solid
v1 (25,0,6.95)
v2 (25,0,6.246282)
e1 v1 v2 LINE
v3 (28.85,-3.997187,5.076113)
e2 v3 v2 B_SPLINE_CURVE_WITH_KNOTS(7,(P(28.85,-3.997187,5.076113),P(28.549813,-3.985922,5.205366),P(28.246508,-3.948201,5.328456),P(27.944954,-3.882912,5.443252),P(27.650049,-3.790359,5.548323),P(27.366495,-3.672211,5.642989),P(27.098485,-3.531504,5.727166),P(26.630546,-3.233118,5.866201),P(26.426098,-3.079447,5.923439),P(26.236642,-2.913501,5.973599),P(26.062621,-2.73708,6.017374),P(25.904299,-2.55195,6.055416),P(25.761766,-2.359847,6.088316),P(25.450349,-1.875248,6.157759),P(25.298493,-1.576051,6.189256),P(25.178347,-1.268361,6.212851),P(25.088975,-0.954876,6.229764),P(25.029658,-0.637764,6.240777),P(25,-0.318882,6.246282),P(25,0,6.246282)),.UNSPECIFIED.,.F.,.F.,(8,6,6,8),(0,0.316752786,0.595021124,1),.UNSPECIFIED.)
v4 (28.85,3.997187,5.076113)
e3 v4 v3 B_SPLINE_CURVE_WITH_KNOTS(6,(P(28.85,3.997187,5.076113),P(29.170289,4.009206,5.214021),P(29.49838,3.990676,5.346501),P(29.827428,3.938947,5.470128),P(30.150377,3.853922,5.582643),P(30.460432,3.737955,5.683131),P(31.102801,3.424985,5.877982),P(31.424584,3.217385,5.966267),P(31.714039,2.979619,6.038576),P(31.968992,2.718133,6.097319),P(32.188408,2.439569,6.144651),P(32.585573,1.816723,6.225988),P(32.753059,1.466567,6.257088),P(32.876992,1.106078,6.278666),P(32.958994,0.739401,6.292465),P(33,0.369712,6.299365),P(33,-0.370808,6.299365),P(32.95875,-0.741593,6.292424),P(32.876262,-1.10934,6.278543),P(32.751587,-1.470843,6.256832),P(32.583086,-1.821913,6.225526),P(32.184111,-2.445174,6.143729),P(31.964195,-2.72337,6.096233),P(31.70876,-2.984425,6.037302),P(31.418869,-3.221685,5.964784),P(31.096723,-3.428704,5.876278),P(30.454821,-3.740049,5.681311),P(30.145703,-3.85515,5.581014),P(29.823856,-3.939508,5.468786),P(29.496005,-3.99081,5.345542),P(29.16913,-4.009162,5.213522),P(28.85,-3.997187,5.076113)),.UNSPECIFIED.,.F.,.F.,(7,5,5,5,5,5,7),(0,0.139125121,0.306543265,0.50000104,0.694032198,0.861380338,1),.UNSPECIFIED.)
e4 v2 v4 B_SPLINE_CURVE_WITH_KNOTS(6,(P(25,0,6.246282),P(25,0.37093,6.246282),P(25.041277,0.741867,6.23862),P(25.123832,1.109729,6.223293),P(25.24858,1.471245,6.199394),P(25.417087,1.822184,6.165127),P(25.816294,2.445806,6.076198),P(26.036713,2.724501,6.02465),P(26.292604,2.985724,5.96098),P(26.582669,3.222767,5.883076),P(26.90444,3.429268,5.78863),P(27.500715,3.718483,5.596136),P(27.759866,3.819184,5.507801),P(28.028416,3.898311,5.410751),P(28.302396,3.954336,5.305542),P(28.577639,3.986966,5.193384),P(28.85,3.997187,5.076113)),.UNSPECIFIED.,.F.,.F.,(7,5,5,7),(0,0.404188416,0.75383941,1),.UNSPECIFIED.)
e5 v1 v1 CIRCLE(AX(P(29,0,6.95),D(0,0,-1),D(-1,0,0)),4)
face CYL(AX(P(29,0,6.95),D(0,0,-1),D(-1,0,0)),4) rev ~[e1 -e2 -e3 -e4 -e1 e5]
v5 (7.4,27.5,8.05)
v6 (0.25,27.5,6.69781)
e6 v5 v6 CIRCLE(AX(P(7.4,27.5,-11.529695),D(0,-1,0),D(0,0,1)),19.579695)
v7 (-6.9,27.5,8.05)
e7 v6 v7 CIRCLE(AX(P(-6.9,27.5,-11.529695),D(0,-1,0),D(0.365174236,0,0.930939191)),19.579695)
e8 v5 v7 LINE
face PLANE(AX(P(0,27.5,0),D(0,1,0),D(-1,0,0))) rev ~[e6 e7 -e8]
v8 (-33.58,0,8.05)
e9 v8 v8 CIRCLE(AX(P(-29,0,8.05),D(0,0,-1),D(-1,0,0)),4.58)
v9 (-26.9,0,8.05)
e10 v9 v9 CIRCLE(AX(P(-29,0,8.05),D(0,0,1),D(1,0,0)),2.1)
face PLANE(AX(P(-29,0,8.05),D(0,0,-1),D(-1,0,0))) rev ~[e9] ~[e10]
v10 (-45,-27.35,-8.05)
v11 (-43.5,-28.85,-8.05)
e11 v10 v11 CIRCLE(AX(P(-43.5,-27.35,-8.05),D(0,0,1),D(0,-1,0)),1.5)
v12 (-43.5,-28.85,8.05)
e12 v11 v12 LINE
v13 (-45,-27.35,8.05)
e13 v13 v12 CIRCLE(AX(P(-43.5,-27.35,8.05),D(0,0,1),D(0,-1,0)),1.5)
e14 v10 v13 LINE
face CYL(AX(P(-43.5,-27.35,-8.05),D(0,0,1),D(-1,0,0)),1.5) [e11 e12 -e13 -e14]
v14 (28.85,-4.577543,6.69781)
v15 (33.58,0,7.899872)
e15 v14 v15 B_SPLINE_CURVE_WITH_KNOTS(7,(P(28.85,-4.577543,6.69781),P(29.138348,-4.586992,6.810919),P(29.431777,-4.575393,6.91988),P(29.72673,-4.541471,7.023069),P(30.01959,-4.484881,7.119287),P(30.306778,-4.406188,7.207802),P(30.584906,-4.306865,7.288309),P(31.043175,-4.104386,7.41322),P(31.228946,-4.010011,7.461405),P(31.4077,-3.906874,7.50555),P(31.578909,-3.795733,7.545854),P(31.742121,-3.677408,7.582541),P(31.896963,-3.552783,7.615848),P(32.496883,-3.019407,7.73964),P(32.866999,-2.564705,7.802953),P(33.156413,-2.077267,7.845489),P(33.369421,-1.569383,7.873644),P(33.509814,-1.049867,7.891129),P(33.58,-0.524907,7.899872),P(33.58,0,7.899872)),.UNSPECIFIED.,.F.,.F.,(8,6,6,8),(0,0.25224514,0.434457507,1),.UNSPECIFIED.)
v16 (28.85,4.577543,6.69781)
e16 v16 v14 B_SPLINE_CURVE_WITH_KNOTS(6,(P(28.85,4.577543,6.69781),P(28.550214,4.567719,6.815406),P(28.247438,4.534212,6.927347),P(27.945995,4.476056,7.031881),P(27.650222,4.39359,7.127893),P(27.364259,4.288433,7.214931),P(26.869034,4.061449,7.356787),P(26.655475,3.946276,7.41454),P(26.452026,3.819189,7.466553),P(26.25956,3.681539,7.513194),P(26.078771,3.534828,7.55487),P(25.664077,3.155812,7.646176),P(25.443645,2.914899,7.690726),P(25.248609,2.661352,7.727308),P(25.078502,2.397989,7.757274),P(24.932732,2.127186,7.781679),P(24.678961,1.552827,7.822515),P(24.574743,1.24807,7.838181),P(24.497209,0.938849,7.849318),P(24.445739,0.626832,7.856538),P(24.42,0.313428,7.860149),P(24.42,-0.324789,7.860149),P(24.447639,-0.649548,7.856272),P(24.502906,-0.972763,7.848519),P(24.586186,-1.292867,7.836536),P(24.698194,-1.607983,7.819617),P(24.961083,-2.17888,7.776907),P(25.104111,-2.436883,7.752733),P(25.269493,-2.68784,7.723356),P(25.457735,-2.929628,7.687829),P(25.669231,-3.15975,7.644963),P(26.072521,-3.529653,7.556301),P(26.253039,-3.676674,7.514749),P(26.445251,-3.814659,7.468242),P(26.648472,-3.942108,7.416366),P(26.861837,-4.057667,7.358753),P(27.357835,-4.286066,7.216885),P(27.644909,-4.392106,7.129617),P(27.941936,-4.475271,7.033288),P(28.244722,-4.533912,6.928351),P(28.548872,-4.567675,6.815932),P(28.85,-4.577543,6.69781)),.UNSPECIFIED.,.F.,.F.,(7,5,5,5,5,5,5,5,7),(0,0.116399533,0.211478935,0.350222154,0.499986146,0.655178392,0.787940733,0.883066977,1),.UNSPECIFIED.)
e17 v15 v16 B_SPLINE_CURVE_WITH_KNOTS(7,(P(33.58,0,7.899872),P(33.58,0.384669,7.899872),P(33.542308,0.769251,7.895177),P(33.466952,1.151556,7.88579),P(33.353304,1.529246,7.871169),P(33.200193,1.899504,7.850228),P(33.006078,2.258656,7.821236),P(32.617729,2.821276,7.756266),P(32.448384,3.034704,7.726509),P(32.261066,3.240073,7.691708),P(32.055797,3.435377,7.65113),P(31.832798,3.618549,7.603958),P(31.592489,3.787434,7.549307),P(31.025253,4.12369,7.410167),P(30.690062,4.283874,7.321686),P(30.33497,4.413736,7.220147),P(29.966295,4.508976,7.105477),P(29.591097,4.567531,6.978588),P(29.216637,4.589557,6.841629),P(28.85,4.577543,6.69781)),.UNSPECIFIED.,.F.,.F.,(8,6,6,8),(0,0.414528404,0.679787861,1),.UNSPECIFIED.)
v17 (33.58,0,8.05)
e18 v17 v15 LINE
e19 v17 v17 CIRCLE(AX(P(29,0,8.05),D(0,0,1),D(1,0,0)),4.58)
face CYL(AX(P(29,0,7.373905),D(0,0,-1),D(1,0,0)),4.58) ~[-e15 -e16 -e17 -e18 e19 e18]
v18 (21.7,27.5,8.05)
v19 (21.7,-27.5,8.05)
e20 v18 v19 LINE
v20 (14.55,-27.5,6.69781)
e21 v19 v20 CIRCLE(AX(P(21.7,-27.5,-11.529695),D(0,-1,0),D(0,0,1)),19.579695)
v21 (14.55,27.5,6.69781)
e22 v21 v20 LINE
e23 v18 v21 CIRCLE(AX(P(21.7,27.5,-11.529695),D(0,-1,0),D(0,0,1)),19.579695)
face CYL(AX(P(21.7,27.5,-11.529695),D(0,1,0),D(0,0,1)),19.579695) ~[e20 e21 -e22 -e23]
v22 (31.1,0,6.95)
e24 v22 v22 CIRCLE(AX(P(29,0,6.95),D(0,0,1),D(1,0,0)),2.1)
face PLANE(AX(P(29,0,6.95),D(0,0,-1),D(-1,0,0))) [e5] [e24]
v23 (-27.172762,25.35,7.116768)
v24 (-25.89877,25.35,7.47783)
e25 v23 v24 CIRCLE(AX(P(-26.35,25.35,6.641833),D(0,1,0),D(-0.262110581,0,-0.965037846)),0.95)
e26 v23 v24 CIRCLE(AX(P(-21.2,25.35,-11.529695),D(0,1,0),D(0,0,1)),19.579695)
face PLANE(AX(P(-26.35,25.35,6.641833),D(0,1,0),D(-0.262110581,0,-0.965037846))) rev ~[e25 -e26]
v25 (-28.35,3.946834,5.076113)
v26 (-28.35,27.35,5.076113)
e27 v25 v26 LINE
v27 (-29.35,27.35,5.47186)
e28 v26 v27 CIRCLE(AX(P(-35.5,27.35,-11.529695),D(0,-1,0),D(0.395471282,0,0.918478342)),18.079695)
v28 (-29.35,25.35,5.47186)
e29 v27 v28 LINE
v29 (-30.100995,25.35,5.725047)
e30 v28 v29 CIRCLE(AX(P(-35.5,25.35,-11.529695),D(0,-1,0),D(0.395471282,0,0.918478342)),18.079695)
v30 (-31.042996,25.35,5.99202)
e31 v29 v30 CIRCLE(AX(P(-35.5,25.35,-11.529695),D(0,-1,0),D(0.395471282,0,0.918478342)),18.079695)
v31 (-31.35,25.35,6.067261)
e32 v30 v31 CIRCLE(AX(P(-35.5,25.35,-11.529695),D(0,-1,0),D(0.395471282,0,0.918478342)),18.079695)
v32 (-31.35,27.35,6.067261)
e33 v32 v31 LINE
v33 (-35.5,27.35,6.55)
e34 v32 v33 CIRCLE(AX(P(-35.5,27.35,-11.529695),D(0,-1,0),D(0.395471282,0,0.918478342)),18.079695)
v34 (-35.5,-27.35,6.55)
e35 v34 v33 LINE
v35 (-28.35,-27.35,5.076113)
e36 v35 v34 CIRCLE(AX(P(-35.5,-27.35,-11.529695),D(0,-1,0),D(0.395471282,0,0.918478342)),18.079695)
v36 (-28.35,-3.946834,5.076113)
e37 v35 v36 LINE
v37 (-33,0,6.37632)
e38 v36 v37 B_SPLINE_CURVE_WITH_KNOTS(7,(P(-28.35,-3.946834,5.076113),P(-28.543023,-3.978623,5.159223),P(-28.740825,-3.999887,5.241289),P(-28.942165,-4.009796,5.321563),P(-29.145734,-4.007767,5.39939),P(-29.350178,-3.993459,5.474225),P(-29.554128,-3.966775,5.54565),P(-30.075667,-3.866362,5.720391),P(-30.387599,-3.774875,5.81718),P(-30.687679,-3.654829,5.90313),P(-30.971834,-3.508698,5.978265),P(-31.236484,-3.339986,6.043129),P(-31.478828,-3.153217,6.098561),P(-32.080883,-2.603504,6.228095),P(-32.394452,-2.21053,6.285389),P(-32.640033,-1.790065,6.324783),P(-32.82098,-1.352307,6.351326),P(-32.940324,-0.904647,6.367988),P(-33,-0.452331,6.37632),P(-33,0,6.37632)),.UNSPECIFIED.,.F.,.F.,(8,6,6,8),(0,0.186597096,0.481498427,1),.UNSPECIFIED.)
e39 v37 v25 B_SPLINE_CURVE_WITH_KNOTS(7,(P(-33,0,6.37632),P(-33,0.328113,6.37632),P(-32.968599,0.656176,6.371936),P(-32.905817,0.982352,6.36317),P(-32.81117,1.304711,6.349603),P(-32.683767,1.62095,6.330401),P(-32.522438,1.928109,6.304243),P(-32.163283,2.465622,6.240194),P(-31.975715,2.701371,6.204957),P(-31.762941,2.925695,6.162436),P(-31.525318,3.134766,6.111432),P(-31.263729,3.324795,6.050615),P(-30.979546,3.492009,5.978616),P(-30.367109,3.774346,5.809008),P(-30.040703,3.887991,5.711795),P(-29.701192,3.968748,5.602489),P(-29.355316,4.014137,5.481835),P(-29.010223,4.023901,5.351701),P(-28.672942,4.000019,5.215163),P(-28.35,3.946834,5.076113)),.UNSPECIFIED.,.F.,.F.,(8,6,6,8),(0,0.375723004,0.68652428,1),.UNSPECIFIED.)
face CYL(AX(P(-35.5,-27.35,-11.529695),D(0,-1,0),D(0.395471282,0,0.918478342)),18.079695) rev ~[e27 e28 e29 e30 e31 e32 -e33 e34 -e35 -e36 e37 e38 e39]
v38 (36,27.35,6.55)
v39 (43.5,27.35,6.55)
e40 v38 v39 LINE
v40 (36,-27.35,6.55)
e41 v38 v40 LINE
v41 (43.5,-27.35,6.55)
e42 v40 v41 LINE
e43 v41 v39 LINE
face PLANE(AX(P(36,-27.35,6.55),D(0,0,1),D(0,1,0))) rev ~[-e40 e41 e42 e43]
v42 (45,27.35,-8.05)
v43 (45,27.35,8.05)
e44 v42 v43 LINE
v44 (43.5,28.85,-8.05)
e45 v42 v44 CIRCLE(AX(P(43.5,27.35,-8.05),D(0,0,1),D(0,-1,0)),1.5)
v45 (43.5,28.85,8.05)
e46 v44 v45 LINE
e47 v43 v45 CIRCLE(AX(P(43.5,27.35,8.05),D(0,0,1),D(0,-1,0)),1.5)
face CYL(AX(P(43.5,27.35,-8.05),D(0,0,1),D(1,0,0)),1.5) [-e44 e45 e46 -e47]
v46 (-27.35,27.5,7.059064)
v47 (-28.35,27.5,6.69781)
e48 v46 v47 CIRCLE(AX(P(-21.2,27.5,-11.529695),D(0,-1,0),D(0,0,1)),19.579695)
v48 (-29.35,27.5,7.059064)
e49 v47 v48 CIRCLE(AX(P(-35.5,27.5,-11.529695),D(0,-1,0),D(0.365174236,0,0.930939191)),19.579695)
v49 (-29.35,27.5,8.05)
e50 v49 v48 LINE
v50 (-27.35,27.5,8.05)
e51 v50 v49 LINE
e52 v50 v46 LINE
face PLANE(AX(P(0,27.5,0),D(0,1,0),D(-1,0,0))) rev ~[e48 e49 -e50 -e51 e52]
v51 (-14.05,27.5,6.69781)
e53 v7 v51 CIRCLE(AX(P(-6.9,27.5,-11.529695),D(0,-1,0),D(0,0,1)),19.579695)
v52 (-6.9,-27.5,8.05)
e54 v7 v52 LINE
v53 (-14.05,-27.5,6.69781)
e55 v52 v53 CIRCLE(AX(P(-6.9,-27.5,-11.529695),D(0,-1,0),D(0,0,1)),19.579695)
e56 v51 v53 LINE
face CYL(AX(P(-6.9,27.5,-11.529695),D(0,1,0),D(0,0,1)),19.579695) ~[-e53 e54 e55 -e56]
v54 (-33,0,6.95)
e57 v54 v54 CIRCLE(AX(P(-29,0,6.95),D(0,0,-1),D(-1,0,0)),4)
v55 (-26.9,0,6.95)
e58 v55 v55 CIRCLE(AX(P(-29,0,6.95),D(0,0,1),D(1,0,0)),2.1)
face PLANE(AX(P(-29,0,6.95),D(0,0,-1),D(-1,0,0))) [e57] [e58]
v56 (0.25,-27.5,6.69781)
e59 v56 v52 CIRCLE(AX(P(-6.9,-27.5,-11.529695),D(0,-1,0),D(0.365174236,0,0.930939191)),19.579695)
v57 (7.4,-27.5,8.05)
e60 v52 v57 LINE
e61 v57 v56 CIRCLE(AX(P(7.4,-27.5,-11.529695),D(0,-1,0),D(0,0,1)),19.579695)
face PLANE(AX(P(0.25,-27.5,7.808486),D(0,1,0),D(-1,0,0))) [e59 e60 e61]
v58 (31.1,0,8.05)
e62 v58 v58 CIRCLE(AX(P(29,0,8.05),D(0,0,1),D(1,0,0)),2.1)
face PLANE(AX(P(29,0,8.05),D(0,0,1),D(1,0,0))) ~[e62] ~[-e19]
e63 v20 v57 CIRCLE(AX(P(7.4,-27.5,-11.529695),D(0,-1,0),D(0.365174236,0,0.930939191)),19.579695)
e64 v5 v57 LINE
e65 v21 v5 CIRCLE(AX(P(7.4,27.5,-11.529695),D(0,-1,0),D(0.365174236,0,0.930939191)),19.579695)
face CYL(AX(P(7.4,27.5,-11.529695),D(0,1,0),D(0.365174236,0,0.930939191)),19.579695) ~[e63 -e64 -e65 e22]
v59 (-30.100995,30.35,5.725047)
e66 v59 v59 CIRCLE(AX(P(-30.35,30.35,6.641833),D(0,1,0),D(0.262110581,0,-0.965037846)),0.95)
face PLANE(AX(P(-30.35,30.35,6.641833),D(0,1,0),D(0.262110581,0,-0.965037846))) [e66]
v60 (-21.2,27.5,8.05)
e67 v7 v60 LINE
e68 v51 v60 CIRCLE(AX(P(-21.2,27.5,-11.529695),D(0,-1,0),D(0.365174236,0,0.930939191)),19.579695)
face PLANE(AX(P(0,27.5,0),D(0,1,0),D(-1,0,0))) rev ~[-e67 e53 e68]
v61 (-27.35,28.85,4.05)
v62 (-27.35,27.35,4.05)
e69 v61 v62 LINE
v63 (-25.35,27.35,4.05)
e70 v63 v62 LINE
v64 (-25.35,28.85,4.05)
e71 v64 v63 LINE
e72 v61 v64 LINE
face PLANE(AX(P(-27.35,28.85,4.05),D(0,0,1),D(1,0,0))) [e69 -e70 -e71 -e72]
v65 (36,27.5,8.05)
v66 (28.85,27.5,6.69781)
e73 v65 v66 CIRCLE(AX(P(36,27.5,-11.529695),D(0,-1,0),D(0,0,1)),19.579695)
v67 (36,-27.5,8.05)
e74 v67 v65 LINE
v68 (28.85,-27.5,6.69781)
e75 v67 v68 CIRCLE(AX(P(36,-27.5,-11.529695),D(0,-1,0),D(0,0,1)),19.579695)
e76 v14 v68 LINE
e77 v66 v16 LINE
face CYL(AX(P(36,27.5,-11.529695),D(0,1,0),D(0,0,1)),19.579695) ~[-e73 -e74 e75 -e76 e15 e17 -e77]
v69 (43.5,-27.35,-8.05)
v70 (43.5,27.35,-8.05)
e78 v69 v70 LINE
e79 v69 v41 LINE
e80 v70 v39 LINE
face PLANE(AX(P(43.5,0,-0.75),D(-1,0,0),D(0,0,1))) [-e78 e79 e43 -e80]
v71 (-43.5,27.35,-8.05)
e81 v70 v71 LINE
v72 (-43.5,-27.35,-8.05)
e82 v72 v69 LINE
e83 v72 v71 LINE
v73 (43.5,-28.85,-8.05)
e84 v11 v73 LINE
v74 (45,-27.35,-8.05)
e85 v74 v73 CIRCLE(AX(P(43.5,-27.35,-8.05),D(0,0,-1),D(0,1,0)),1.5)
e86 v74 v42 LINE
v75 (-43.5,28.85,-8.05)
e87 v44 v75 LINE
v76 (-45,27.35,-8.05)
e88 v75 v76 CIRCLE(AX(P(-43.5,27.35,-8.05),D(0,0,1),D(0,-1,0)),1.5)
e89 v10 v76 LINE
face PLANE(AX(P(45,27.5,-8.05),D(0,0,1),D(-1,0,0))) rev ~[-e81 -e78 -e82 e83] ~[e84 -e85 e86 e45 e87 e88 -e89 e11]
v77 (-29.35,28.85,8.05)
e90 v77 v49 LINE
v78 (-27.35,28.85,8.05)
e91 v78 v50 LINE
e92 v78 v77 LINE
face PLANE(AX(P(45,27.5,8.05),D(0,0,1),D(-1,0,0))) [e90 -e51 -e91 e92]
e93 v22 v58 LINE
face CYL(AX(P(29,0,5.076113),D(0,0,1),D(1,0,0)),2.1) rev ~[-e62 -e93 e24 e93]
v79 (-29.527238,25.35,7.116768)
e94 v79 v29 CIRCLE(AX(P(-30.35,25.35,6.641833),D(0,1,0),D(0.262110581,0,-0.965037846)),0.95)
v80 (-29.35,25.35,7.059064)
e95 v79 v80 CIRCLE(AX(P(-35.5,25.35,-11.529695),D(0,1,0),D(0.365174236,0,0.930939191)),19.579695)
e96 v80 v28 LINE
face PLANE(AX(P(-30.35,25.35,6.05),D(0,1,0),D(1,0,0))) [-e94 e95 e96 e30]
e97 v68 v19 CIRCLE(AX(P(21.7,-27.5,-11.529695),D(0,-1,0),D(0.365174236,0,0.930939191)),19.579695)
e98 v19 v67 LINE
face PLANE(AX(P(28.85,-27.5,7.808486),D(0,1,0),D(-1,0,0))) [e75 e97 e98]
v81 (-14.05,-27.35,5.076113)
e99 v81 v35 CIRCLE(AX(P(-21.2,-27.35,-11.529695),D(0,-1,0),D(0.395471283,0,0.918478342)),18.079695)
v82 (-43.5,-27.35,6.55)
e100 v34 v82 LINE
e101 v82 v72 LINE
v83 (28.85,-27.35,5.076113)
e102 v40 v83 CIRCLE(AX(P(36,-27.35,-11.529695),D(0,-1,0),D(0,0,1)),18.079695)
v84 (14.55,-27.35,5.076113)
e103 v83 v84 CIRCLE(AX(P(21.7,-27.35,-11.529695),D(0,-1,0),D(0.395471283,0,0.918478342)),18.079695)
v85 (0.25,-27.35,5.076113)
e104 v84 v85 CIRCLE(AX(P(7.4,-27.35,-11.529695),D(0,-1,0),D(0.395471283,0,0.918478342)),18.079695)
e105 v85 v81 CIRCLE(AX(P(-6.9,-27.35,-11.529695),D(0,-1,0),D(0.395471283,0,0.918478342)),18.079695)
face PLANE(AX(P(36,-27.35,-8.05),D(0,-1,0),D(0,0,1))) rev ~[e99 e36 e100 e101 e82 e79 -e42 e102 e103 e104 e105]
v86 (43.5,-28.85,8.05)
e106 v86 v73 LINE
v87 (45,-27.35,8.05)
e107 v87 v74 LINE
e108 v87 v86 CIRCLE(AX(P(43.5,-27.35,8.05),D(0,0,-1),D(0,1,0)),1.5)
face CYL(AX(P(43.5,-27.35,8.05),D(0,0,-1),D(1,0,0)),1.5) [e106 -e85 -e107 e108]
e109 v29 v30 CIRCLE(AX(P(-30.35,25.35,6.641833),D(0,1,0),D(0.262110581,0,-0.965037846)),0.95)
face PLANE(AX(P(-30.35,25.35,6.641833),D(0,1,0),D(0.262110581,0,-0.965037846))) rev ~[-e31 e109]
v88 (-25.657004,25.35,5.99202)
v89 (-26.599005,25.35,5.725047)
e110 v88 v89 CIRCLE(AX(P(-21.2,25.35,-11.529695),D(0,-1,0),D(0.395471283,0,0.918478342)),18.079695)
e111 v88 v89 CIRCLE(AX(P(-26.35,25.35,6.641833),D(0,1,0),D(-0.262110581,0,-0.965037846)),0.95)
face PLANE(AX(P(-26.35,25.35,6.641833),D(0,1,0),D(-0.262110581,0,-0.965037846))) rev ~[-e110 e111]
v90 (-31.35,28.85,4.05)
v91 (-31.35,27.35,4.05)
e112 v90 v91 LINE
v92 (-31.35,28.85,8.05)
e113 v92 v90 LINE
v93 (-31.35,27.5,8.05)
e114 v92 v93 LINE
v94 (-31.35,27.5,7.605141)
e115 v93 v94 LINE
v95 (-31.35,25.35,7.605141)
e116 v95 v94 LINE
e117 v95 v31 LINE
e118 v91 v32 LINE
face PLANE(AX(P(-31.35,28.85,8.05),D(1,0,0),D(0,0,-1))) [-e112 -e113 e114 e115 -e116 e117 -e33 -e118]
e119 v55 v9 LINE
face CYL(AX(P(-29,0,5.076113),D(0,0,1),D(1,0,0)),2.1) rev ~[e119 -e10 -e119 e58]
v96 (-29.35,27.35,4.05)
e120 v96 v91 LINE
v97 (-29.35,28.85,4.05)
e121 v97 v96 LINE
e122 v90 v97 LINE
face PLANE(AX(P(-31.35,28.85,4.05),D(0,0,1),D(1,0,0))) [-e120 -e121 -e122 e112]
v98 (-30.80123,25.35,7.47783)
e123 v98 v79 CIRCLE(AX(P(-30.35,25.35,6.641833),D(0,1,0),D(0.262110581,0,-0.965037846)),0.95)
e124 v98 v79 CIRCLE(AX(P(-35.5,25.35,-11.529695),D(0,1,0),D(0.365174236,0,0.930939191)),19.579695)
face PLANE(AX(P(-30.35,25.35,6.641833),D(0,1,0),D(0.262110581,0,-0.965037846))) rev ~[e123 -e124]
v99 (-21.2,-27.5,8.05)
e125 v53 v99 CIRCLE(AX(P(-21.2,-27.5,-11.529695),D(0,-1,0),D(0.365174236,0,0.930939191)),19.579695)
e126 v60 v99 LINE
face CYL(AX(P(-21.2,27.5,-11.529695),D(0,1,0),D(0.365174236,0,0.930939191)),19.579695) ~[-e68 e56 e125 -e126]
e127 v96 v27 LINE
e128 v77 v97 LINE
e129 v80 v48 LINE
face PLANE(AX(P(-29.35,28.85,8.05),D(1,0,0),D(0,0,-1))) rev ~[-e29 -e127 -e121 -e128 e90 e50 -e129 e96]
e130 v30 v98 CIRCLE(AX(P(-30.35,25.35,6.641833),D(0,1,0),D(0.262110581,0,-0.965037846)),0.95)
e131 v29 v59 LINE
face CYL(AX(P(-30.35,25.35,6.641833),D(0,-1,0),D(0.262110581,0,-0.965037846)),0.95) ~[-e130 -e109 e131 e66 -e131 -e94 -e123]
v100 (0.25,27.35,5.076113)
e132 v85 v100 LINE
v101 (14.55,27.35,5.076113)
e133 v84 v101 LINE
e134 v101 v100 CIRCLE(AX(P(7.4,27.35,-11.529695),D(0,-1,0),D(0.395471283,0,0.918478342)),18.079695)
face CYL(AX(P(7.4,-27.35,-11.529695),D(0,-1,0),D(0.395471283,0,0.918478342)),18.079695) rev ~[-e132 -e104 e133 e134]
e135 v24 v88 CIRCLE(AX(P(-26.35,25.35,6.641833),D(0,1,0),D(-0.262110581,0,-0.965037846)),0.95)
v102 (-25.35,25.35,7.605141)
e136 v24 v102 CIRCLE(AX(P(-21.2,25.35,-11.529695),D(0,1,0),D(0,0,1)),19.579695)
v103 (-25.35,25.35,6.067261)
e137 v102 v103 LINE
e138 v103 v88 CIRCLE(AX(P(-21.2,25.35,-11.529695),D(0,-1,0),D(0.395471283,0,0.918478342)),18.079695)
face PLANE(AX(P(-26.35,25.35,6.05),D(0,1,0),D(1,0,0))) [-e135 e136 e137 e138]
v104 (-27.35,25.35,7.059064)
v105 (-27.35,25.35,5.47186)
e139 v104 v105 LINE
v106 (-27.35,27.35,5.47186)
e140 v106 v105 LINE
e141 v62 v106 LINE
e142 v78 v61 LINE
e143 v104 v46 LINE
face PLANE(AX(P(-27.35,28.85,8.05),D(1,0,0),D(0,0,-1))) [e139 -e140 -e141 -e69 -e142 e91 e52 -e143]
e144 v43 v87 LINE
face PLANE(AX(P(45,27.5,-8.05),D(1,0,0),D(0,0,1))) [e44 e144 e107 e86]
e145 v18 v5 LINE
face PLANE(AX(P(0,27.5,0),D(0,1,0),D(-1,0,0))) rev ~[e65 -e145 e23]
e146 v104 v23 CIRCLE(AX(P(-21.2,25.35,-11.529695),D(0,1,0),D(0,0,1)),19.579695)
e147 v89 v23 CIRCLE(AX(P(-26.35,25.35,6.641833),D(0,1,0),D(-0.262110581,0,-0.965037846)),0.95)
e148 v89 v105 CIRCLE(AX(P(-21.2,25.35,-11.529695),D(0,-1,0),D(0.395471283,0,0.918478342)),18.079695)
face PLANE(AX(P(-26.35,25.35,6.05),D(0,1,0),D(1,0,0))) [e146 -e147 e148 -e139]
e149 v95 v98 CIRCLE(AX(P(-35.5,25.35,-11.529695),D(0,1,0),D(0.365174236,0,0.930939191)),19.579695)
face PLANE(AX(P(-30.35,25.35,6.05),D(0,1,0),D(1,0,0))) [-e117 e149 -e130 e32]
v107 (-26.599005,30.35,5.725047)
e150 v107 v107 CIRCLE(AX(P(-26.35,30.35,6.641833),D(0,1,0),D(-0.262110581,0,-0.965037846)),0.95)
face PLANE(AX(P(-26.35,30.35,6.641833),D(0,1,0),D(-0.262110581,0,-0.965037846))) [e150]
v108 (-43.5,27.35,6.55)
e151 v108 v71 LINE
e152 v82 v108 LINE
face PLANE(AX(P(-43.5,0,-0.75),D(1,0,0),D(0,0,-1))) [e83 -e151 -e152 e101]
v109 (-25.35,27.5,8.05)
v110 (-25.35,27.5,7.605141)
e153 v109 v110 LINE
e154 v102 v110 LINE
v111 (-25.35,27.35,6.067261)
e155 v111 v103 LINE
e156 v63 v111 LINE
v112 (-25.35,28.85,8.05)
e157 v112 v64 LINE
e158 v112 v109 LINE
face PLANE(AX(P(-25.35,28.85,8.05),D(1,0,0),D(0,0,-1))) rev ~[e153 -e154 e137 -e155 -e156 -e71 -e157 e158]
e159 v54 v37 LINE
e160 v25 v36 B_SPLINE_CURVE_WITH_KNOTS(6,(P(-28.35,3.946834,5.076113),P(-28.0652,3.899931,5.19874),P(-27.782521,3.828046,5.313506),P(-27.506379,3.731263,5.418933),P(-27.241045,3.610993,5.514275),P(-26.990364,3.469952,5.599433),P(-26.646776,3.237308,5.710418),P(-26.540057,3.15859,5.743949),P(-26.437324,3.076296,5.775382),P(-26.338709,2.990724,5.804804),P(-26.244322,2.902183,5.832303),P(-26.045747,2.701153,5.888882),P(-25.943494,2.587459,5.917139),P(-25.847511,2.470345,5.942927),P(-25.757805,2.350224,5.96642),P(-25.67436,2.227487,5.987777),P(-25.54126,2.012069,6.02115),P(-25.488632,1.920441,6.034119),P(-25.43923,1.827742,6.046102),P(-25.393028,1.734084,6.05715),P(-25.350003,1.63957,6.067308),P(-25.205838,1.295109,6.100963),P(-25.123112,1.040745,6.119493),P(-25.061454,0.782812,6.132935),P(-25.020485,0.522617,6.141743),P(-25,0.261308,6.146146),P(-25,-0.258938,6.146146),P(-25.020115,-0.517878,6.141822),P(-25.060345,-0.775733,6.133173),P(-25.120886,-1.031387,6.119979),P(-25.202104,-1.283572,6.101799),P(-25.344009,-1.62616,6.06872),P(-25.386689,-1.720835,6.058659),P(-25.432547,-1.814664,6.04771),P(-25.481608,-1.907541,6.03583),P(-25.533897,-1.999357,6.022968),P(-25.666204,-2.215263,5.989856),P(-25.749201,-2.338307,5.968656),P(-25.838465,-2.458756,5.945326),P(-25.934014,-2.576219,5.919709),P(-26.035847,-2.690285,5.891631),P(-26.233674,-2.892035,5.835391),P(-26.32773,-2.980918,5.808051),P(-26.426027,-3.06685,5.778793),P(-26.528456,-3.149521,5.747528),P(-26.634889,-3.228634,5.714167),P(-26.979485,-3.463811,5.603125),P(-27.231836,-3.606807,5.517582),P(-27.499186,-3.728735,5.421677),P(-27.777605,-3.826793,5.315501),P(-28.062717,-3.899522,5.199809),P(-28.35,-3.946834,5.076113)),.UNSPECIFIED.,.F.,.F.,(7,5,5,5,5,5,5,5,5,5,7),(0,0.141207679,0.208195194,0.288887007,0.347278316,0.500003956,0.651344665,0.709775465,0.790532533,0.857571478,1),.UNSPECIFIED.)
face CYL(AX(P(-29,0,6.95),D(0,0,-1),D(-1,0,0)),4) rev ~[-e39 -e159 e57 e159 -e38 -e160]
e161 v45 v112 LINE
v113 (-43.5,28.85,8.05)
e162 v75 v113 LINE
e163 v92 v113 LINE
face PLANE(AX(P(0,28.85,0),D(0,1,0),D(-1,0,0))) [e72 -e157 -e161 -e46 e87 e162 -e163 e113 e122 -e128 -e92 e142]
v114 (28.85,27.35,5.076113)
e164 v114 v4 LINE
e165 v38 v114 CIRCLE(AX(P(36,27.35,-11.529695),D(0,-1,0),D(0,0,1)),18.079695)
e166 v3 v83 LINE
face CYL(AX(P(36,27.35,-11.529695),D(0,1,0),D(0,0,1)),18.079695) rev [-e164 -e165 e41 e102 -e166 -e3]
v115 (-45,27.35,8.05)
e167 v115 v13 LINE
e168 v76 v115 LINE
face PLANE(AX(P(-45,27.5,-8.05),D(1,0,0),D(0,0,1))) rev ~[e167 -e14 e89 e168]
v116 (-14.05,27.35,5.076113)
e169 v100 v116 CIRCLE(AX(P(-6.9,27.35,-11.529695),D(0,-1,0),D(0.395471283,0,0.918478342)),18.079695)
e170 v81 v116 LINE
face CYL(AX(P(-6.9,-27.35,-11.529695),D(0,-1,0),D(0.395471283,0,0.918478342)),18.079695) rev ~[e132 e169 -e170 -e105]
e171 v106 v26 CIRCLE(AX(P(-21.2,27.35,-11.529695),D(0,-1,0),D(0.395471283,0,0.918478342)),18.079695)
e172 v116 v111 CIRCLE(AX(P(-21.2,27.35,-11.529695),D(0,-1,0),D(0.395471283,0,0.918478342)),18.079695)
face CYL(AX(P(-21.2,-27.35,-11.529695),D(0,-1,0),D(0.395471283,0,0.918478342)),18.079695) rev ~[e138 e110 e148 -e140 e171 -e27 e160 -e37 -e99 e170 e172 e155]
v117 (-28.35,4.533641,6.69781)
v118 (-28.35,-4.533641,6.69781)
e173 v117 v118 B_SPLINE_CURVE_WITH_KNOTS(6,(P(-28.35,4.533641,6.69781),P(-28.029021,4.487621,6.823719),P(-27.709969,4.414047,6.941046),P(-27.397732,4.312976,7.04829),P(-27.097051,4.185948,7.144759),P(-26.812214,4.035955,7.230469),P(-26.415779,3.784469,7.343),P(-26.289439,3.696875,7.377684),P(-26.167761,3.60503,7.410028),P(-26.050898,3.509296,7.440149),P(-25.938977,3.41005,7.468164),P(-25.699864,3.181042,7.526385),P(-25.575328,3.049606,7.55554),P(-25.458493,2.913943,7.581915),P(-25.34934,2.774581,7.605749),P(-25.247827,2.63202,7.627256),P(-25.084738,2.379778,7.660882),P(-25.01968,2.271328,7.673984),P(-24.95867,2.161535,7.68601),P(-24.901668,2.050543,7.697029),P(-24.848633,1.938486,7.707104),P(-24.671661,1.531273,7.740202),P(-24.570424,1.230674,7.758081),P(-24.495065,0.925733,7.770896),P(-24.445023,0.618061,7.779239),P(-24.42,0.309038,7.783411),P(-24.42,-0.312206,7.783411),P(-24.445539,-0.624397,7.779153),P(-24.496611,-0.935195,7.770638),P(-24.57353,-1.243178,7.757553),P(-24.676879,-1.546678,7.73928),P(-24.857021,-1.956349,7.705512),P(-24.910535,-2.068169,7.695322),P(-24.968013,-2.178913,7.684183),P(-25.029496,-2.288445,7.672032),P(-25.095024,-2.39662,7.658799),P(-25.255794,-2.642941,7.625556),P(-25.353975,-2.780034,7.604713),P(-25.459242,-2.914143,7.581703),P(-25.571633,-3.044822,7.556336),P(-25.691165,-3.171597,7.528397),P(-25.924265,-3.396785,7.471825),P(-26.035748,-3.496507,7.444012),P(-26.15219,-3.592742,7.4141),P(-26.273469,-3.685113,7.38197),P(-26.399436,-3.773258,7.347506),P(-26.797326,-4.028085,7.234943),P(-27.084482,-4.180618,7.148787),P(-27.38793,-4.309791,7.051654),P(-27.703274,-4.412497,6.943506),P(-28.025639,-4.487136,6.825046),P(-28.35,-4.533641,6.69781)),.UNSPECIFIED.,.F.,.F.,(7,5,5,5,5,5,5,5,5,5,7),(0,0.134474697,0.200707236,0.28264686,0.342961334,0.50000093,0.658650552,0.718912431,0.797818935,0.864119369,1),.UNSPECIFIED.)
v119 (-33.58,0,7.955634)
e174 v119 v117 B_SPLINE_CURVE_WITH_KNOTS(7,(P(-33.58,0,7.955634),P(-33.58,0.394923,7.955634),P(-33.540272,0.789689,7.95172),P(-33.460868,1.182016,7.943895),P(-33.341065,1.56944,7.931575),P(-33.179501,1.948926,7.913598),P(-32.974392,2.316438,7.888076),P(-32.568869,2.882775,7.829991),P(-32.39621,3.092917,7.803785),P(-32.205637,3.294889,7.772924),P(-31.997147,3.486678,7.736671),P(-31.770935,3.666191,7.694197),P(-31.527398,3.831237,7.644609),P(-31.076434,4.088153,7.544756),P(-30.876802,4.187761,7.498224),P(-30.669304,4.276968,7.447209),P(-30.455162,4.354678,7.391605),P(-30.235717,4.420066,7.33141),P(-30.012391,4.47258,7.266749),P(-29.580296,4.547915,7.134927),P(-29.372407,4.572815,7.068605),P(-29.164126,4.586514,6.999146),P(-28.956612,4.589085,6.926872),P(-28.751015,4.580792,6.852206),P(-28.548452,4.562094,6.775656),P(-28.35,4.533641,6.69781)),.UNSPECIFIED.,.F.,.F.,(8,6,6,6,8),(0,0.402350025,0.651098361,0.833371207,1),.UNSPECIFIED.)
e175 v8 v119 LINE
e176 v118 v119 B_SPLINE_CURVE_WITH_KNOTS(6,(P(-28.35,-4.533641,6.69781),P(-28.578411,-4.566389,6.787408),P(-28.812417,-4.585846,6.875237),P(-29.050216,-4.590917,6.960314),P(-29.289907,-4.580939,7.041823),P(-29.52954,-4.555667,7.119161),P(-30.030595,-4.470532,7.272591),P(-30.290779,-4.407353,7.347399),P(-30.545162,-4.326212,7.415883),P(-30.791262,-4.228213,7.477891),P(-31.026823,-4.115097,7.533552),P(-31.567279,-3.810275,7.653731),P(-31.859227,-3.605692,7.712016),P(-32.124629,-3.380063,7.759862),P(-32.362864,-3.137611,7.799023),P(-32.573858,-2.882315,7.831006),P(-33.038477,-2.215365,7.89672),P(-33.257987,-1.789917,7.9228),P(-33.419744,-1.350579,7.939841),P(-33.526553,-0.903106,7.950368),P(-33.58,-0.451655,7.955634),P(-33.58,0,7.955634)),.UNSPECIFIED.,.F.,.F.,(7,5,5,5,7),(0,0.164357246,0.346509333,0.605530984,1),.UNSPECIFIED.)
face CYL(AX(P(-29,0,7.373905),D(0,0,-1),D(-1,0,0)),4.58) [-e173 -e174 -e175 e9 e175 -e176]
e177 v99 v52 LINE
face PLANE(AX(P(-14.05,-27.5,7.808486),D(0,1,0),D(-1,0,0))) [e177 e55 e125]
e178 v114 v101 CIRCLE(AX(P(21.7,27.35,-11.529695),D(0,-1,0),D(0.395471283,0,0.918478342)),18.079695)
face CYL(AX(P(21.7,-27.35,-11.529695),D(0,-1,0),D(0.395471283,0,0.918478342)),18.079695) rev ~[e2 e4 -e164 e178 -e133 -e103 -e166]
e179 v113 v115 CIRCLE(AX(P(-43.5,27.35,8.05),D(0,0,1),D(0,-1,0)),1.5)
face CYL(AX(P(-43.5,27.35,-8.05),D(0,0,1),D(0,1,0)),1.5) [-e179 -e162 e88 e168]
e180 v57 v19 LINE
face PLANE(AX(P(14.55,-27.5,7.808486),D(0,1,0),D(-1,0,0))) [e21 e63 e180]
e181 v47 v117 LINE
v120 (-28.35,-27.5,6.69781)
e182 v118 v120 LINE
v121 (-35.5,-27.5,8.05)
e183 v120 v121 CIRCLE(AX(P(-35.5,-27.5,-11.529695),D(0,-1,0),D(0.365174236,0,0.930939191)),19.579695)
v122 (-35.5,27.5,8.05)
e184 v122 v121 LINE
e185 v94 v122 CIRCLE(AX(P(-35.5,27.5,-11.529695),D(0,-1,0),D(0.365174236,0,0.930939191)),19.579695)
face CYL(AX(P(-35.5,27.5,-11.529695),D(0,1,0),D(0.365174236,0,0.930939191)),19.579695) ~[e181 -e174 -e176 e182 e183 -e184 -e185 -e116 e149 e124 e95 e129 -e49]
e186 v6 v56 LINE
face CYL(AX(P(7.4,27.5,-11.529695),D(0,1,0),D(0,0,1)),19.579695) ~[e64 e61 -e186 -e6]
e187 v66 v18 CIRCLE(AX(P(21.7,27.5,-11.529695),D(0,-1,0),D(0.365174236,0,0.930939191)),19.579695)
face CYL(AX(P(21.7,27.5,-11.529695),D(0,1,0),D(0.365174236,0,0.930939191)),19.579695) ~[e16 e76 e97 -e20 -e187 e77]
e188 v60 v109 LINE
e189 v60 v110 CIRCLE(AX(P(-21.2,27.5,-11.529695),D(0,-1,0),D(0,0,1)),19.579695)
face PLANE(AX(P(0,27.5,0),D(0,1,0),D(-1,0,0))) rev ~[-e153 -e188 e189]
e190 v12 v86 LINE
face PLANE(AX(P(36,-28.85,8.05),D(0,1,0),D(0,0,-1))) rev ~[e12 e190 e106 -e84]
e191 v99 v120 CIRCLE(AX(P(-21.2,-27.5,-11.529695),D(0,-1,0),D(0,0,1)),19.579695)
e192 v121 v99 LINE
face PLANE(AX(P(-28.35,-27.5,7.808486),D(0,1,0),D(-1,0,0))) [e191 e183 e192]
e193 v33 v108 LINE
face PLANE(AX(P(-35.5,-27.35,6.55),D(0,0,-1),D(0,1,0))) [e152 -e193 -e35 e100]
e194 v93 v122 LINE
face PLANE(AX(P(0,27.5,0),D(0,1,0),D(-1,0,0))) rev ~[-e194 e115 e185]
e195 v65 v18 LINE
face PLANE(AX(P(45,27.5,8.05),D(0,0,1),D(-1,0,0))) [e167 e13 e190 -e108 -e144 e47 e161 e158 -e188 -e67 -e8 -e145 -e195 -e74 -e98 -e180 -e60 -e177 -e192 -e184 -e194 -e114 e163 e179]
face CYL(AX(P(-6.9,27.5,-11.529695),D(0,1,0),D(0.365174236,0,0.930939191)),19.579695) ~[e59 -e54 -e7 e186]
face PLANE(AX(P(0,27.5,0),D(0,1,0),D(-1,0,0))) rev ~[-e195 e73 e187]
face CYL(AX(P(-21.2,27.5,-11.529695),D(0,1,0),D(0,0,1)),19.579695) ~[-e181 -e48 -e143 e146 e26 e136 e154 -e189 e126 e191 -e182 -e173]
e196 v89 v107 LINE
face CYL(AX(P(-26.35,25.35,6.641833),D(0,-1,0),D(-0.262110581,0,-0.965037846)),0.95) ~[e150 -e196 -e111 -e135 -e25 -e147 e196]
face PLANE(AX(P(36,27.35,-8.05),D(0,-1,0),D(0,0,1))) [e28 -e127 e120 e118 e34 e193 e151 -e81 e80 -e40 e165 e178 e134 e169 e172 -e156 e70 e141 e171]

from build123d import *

# Parameters (mm, degrees)
EXTRUDE_1_DEPTH                = 54.7
SKETCH_2_W                     = 1.5
SKETCH_2_H                     = 1.473886678
EXTRUDE_2_DEPTH                = 7.15
SKETCH_3_W                     = 0.15
SKETCH_3_H                     = 1.473886678
EXTRUDE_3_DEPTH                = 7.15
SKETCH_4_W                     = 7.15
SKETCH_4_H                     = 56.35
EXTRUDE_4_DEPTH                = 1.5
SKETCH_5_W                     = 2.973886678
SKETCH_5_H                     = 56.35
EXTRUDE_5_DEPTH                = 14.3
CUT_EXTRUDE_1_DEPTH            = 54.7
SKETCH_7_W                     = 2.973886678
SKETCH_7_H                     = 56.35
EXTRUDE_6_DEPTH                = 14.3
CUT_EXTRUDE_2_DEPTH            = 54.7
SKETCH_9_W                     = 2.973886678
SKETCH_9_H                     = 56.35
EXTRUDE_7_DEPTH                = 14.3
CUT_EXTRUDE_3_DEPTH            = 54.7
SKETCH_11_W                    = 2.973886678
SKETCH_11_H                    = 56.35
EXTRUDE_8_DEPTH                = 14.3
CUT_EXTRUDE_4_DEPTH            = 54.7
EXTRUDE_9_DEPTH                = 7.15
CUT_EXTRUDE_5_DEPTH            = 54.7
CUT_EXTRUDE_6_DEPTH            = 55
CUT_EXTRUDE_7_DEPTH            = 55
CUT_EXTRUDE_8_DEPTH            = 55
CUT_EXTRUDE_9_DEPTH            = 55
CUT_EXTRUDE_10_DEPTH           = 55
SKETCH_20_W                    = 71.5
SKETCH_20_H                    = 1.5
EXTRUDE_10_DEPTH               = 13.126113322
SKETCH_21_W                    = 71.5
SKETCH_21_H                    = 0.15
EXTRUDE_11_DEPTH               = 13.126113322
SKETCH_22_W                    = 16.1
SKETCH_22_H                    = 56.35
EXTRUDE_12_DEPTH               = 9.5
SKETCH_23_W                    = 16.1
SKETCH_23_H                    = 56.35
EXTRUDE_13_DEPTH               = 9
SKETCH_24_W                    = 14.6
SKETCH_24_H                    = 54.7
CUT_EXTRUDE_11_DEPTH           = 8
SKETCH_25_W                    = 14.6
SKETCH_25_H                    = 54.7
CUT_EXTRUDE_12_DEPTH           = 7.5
SKETCH_26_W                    = 90
SKETCH_26_H                    = 16.1
EXTRUDE_14_DEPTH               = 1.35
SKETCH_27_W                    = 4.58
SKETCH_27_H                    = 1.352189545
SKETCH_28_W                    = 4.58
SKETCH_28_H                    = 1.352189545
HOLE_WIZARD_M3_5_1_D           = 4.2
HOLE_WIZARD_M3_5_1_CBORE_D     = 8
HOLE_WIZARD_M3_5_1_CBORE_DEPTH = 1.873886678
FILLET_1_R                     = 1.5
SKETCH_32_W                    = 2
SKETCH_32_H                    = 4
CUT_EXTRUDE_13_DEPTH           = 3.5
SKETCH_35_R                    = 0.95
EXTRUDE_15_DEPTH               = 5


with BuildPart() as part:
    # 草图1 → 凸台-拉伸1 (new body)
    with BuildSketch(Plane(origin=(0, 27.35, 0), x_dir=(1, 0, 0), z_dir=(0, 1, 0))):
        with BuildLine():
            Line((28.85, -5.076113322), (28.85, -6.55))
            Line((28.85, -6.55), (36, -6.55))
            ThreePointArc((36, -6.55), (32.349834184, -6.177694996), (28.85, -5.076113322))
        make_face()
    extrude(amount=-EXTRUDE_1_DEPTH)

    # 草图2 → 凸台-拉伸2 (add)
    with BuildSketch(Plane(origin=(28.85, 0, 0), x_dir=(0, -1, 0), z_dir=(-1, 0, 0))):
        with Locations((28.1, 5.813056661)):
            Rectangle(SKETCH_2_W, SKETCH_2_H)
    extrude(amount=-EXTRUDE_2_DEPTH)

    # 草图3 → 凸台-拉伸3 (add)
    with BuildSketch(Plane(origin=(28.85, 0, 0), x_dir=(0, -1, 0), z_dir=(-1, 0, 0))):
        with Locations((-27.425, 5.813056661)):
            Rectangle(SKETCH_3_W, SKETCH_3_H)
    extrude(amount=-EXTRUDE_3_DEPTH)

    # 草图4 → 凸台-拉伸4 (add)
    with BuildSketch(Plane.XY.offset(6.55)):
        with Locations((32.425, -0.675)):
            Rectangle(SKETCH_4_W, SKETCH_4_H)
    extrude(amount=EXTRUDE_4_DEPTH)

    # 草图5 → 凸台-拉伸5 (add)
    with BuildSketch(Plane.ZY.offset(-28.85)):
        with Locations((6.563056661, -0.675)):
            Rectangle(SKETCH_5_W, SKETCH_5_H)
    extrude(amount=EXTRUDE_5_DEPTH)

    # 草图6 → 切除-拉伸1 (cut)
    with BuildSketch(Plane.XZ.offset(27.35)):
        with BuildLine():
            Line((14.55, 5.076113322), (28.85, 5.076113322))
            ThreePointArc((28.85, 5.076113322), (21.7, 6.55), (14.55, 5.076113322))
        make_face()
    extrude(amount=-CUT_EXTRUDE_1_DEPTH, mode=Mode.SUBTRACT)

    # 草图7 → 凸台-拉伸6 (add)
    with BuildSketch(Plane.ZY.offset(-14.55)):
        with Locations((6.563056661, -0.675)):
            Rectangle(SKETCH_7_W, SKETCH_7_H)
    extrude(amount=EXTRUDE_6_DEPTH)

    # 草图8 → 切除-拉伸2 (cut)
    with BuildSketch(Plane.XZ.offset(27.35)):
        with BuildLine():
            Line((0.25, 5.076113322), (14.55, 5.076113322))
            ThreePointArc((14.55, 5.076113322), (7.4, 6.55), (0.25, 5.076113322))
        make_face()
    extrude(amount=-CUT_EXTRUDE_2_DEPTH, mode=Mode.SUBTRACT)

    # 草图9 → 凸台-拉伸7 (add)
    with BuildSketch(Plane.ZY.offset(-0.25)):
        with Locations((6.563056661, -0.675)):
            Rectangle(SKETCH_9_W, SKETCH_9_H)
    extrude(amount=EXTRUDE_7_DEPTH)

    # 草图10 → 切除-拉伸3 (cut)
    with BuildSketch(Plane.XZ.offset(27.35)):
        with BuildLine():
            Line((-14.05, 5.076113322), (0.25, 5.076113322))
            ThreePointArc((0.25, 5.076113322), (-6.9, 6.55), (-14.05, 5.076113322))
        make_face()
    extrude(amount=-CUT_EXTRUDE_3_DEPTH, mode=Mode.SUBTRACT)

    # 草图11 → 凸台-拉伸8 (add)
    with BuildSketch(Plane.ZY.offset(14.05)):
        with Locations((6.563056661, -0.675)):
            Rectangle(SKETCH_11_W, SKETCH_11_H)
    extrude(amount=EXTRUDE_8_DEPTH)

    # 草图12 → 切除-拉伸4 (cut)
    with BuildSketch(Plane.XZ.offset(27.35)):
        with BuildLine():
            Line((-28.35, 5.076113322), (-14.05, 5.076113322))
            ThreePointArc((-14.05, 5.076113322), (-21.2, 6.55), (-28.35, 5.076113322))
        make_face()
    extrude(amount=-CUT_EXTRUDE_4_DEPTH, mode=Mode.SUBTRACT)

    # 草图13 → 凸台-拉伸9 (add)
    with BuildSketch(Plane.ZY.offset(28.35)):
        with BuildLine():
            Line((5.076113322, 27.35), (5.076113322, 27.5))
            Line((5.076113322, 27.5), (8.05, 27.5))
            Line((8.05, 27.5), (8.05, -28.85))
            Line((8.05, -28.85), (5.076113322, -28.85))
            Line((5.076113322, -28.85), (5.076113322, -27.35))
            add(Edge.make_bspline(
                [(5.076113322, -27.35), (5.076113322, -9.116666667), (5.076113322, 9.116666667), (5.076113322, 27.35)],
                knots=[0, 0, 0, 0, 1, 1, 1, 1], degree=3))
        make_face()
    extrude(amount=EXTRUDE_9_DEPTH)

    # 草图14 → 切除-拉伸5 (cut)
    with BuildSketch(Plane.XZ.offset(27.35)):
        with BuildLine():
            Line((-35.5, 5.076113322), (-28.35, 5.076113322))
            ThreePointArc((-28.35, 5.076113322), (-31.849834184, 6.177694996), (-35.5, 6.55))
            Line((-35.5, 6.55), (-35.5, 5.076113322))
        make_face()
    extrude(amount=-CUT_EXTRUDE_5_DEPTH, mode=Mode.SUBTRACT)

    # 草图15 → 切除-拉伸6 (cut)
    with BuildSketch(Plane(origin=(0, 27.5, 0), x_dir=(-1, 0, 0), z_dir=(0, 1, 0))):
        with BuildLine():
            Line((21.2, 8.05), (6.9, 8.05))
            ThreePointArc((6.9, 8.05), (10.538369022, 7.708982887), (14.05, 6.697810455))
            ThreePointArc((14.05, 6.697810455), (17.561630978, 7.708982887), (21.2, 8.05))
        make_face()
    extrude(amount=-CUT_EXTRUDE_6_DEPTH, mode=Mode.SUBTRACT)

    # 草图16 → 切除-拉伸7 (cut)
    with BuildSketch(Plane(origin=(0, 27.5, 0), x_dir=(-1, 0, 0), z_dir=(0, 1, 0))):
        with BuildLine():
            Line((6.9, 8.05), (-7.4, 8.05))
            ThreePointArc((-7.4, 8.05), (-3.761630978, 7.708982887), (-0.25, 6.697810455))
            ThreePointArc((-0.25, 6.697810455), (3.261630978, 7.708982887), (6.9, 8.05))
        make_face()
    extrude(amount=-CUT_EXTRUDE_7_DEPTH, mode=Mode.SUBTRACT)

    # 草图17 → 切除-拉伸8 (cut)
    with BuildSketch(Plane(origin=(0, 27.5, 0), x_dir=(-1, 0, 0), z_dir=(0, 1, 0))):
        with BuildLine():
            Line((-7.4, 8.05), (-21.7, 8.05))
            ThreePointArc((-21.7, 8.05), (-18.061630978, 7.708982887), (-14.55, 6.697810455))
            ThreePointArc((-14.55, 6.697810455), (-11.038369022, 7.708982887), (-7.4, 8.05))
        make_face()
    extrude(amount=-CUT_EXTRUDE_8_DEPTH, mode=Mode.SUBTRACT)

    # 草图18 → 切除-拉伸9 (cut)
    with BuildSketch(Plane(origin=(0, 27.5, 0), x_dir=(-1, 0, 0), z_dir=(0, 1, 0))):
        with BuildLine():
            Line((-21.7, 8.05), (-36, 8.05))
            ThreePointArc((-36, 8.05), (-32.361630978, 7.708982887), (-28.85, 6.697810455))
            ThreePointArc((-28.85, 6.697810455), (-25.338369022, 7.708982887), (-21.7, 8.05))
        make_face()
    extrude(amount=-CUT_EXTRUDE_9_DEPTH, mode=Mode.SUBTRACT)

    # 草图19 → 切除-拉伸10 (cut)
    with BuildSketch(Plane(origin=(0, 27.5, 0), x_dir=(-1, 0, 0), z_dir=(0, 1, 0))):
        with BuildLine():
            Line((35.5, 8.05), (21.2, 8.05))
            ThreePointArc((21.2, 8.05), (24.838369022, 7.708982887), (28.35, 6.697810455))
            ThreePointArc((28.35, 6.697810455), (31.861630978, 7.708982887), (35.5, 8.05))
        make_face()
    extrude(amount=-CUT_EXTRUDE_10_DEPTH, mode=Mode.SUBTRACT)

    # 草图20 → 凸台-拉伸10 (add)
    with BuildSketch(Plane(origin=(0, 0, 5.076113322), x_dir=(-1, 0, 0), z_dir=(0, 0, -1))):
        with Locations((-0.25, -28.1)):
            Rectangle(SKETCH_20_W, SKETCH_20_H)
    extrude(amount=EXTRUDE_10_DEPTH)

    # 草图21 → 凸台-拉伸11 (add)
    with BuildSketch(Plane(origin=(0, 0, 5.076113322), x_dir=(-1, 0, 0), z_dir=(0, 0, -1))):
        with Locations((-0.25, 27.425)):
            Rectangle(SKETCH_21_W, SKETCH_21_H)
    extrude(amount=EXTRUDE_11_DEPTH)

    # 草图22 → 凸台-拉伸12 (add)
    with BuildSketch(Plane.ZY.offset(35.5)):
        with Locations((0, -0.675)):
            Rectangle(SKETCH_22_W, SKETCH_22_H)
    extrude(amount=EXTRUDE_12_DEPTH)

    # 草图23 → 凸台-拉伸13 (add)
    with BuildSketch(Plane(origin=(36, 0, 0), x_dir=(0, 0, -1), z_dir=(1, 0, 0))):
        with Locations((0, -0.675)):
            Rectangle(SKETCH_23_W, SKETCH_23_H)
    extrude(amount=EXTRUDE_13_DEPTH)

    # 草图24 → 切除-拉伸11 (cut)
    with BuildSketch(Plane(origin=(-35.5, 0, 0), x_dir=(0, 0, -1), z_dir=(1, 0, 0))):
        with Locations((0.75, 0)):
            Rectangle(SKETCH_24_W, SKETCH_24_H)
    extrude(amount=-CUT_EXTRUDE_11_DEPTH, mode=Mode.SUBTRACT)

    # 草图25 → 切除-拉伸12 (cut)
    with BuildSketch(Plane.ZY.offset(-36)):
        with Locations((-0.75, 0)):
            Rectangle(SKETCH_25_W, SKETCH_25_H)
    extrude(amount=-CUT_EXTRUDE_12_DEPTH, mode=Mode.SUBTRACT)

    # 草图26 → 凸台-拉伸14 (add)
    with BuildSketch(Plane(origin=(0, 27.5, 0), x_dir=(-1, 0, 0), z_dir=(0, 1, 0))):
        Rectangle(SKETCH_26_W, SKETCH_26_H)
    extrude(amount=EXTRUDE_14_DEPTH)

    # 草图27 → 旋转1 (revolve)
    with BuildSketch(Plane(origin=(0, 0, 0), x_dir=(1, 0, 0), z_dir=(0, 1, 0))):
        with Locations((-31.29, -7.373905228)):
            Rectangle(SKETCH_27_W, SKETCH_27_H)
    revolve(axis=Axis((-29, 0, 8.05), (0, 0, -1)))

    # 草图28 → 旋转2 (revolve)
    with BuildSketch(Plane(origin=(0, 0, 0), x_dir=(1, 0, 0), z_dir=(0, 1, 0))):
        with Locations((31.29, -7.373905228)):
            Rectangle(SKETCH_28_W, SKETCH_28_H)
    revolve(axis=Axis((29, 0, 6.697810455), (0, 0, 1)))

    # M3.5 六角头机械螺钉的柱形沉头孔1 (through all)
    with Locations(Plane(origin=(0, 0, 5.076113322), x_dir=(-1, 0, 0), z_dir=(0, 0, -1))):
        with Locations((-29, 0), (29, 0)):
            CounterBoreHole(HOLE_WIZARD_M3_5_1_D / 2, HOLE_WIZARD_M3_5_1_CBORE_D / 2, HOLE_WIZARD_M3_5_1_CBORE_DEPTH)

    # 圆角1
    fillet_1_edges = [part.edges().sort_by_distance(p)[0] for p in [
        (-45, -28.85, 0),
        (45, -28.85, 0),
        (45, 28.85, 0),
        (-45, 28.85, 0),
    ]]
    fillet(fillet_1_edges, radius=FILLET_1_R)

    # 草图32 → 切除-拉伸13 (cut)
    with BuildSketch(Plane(origin=(0, 28.85, 0), x_dir=(1, 0, 0), z_dir=(0, 1, 0))):
        with Locations((-30.35, -6.05)):
            Rectangle(SKETCH_32_W, SKETCH_32_H)
        with Locations((-26.35, -6.05)):
            Rectangle(SKETCH_32_W, SKETCH_32_H)
    extrude(amount=-CUT_EXTRUDE_13_DEPTH, mode=Mode.SUBTRACT)

    # 草图35 → 凸台-拉伸15 (add)
    with BuildSketch(Plane(origin=(0, 25.35, 0), x_dir=(1, 0, 0), z_dir=(0, 1, 0))):
        with Locations(Location((-30.35, -6.641832766, 0), (0, 0, 74.804666508))):
            Circle(SKETCH_35_R)
        with Locations(Location((-26.35, -6.641832766, 0), (0, 0, 105.195333492))):
            Circle(SKETCH_35_R)
    extrude(amount=EXTRUDE_15_DEPTH)


solid = part.part
